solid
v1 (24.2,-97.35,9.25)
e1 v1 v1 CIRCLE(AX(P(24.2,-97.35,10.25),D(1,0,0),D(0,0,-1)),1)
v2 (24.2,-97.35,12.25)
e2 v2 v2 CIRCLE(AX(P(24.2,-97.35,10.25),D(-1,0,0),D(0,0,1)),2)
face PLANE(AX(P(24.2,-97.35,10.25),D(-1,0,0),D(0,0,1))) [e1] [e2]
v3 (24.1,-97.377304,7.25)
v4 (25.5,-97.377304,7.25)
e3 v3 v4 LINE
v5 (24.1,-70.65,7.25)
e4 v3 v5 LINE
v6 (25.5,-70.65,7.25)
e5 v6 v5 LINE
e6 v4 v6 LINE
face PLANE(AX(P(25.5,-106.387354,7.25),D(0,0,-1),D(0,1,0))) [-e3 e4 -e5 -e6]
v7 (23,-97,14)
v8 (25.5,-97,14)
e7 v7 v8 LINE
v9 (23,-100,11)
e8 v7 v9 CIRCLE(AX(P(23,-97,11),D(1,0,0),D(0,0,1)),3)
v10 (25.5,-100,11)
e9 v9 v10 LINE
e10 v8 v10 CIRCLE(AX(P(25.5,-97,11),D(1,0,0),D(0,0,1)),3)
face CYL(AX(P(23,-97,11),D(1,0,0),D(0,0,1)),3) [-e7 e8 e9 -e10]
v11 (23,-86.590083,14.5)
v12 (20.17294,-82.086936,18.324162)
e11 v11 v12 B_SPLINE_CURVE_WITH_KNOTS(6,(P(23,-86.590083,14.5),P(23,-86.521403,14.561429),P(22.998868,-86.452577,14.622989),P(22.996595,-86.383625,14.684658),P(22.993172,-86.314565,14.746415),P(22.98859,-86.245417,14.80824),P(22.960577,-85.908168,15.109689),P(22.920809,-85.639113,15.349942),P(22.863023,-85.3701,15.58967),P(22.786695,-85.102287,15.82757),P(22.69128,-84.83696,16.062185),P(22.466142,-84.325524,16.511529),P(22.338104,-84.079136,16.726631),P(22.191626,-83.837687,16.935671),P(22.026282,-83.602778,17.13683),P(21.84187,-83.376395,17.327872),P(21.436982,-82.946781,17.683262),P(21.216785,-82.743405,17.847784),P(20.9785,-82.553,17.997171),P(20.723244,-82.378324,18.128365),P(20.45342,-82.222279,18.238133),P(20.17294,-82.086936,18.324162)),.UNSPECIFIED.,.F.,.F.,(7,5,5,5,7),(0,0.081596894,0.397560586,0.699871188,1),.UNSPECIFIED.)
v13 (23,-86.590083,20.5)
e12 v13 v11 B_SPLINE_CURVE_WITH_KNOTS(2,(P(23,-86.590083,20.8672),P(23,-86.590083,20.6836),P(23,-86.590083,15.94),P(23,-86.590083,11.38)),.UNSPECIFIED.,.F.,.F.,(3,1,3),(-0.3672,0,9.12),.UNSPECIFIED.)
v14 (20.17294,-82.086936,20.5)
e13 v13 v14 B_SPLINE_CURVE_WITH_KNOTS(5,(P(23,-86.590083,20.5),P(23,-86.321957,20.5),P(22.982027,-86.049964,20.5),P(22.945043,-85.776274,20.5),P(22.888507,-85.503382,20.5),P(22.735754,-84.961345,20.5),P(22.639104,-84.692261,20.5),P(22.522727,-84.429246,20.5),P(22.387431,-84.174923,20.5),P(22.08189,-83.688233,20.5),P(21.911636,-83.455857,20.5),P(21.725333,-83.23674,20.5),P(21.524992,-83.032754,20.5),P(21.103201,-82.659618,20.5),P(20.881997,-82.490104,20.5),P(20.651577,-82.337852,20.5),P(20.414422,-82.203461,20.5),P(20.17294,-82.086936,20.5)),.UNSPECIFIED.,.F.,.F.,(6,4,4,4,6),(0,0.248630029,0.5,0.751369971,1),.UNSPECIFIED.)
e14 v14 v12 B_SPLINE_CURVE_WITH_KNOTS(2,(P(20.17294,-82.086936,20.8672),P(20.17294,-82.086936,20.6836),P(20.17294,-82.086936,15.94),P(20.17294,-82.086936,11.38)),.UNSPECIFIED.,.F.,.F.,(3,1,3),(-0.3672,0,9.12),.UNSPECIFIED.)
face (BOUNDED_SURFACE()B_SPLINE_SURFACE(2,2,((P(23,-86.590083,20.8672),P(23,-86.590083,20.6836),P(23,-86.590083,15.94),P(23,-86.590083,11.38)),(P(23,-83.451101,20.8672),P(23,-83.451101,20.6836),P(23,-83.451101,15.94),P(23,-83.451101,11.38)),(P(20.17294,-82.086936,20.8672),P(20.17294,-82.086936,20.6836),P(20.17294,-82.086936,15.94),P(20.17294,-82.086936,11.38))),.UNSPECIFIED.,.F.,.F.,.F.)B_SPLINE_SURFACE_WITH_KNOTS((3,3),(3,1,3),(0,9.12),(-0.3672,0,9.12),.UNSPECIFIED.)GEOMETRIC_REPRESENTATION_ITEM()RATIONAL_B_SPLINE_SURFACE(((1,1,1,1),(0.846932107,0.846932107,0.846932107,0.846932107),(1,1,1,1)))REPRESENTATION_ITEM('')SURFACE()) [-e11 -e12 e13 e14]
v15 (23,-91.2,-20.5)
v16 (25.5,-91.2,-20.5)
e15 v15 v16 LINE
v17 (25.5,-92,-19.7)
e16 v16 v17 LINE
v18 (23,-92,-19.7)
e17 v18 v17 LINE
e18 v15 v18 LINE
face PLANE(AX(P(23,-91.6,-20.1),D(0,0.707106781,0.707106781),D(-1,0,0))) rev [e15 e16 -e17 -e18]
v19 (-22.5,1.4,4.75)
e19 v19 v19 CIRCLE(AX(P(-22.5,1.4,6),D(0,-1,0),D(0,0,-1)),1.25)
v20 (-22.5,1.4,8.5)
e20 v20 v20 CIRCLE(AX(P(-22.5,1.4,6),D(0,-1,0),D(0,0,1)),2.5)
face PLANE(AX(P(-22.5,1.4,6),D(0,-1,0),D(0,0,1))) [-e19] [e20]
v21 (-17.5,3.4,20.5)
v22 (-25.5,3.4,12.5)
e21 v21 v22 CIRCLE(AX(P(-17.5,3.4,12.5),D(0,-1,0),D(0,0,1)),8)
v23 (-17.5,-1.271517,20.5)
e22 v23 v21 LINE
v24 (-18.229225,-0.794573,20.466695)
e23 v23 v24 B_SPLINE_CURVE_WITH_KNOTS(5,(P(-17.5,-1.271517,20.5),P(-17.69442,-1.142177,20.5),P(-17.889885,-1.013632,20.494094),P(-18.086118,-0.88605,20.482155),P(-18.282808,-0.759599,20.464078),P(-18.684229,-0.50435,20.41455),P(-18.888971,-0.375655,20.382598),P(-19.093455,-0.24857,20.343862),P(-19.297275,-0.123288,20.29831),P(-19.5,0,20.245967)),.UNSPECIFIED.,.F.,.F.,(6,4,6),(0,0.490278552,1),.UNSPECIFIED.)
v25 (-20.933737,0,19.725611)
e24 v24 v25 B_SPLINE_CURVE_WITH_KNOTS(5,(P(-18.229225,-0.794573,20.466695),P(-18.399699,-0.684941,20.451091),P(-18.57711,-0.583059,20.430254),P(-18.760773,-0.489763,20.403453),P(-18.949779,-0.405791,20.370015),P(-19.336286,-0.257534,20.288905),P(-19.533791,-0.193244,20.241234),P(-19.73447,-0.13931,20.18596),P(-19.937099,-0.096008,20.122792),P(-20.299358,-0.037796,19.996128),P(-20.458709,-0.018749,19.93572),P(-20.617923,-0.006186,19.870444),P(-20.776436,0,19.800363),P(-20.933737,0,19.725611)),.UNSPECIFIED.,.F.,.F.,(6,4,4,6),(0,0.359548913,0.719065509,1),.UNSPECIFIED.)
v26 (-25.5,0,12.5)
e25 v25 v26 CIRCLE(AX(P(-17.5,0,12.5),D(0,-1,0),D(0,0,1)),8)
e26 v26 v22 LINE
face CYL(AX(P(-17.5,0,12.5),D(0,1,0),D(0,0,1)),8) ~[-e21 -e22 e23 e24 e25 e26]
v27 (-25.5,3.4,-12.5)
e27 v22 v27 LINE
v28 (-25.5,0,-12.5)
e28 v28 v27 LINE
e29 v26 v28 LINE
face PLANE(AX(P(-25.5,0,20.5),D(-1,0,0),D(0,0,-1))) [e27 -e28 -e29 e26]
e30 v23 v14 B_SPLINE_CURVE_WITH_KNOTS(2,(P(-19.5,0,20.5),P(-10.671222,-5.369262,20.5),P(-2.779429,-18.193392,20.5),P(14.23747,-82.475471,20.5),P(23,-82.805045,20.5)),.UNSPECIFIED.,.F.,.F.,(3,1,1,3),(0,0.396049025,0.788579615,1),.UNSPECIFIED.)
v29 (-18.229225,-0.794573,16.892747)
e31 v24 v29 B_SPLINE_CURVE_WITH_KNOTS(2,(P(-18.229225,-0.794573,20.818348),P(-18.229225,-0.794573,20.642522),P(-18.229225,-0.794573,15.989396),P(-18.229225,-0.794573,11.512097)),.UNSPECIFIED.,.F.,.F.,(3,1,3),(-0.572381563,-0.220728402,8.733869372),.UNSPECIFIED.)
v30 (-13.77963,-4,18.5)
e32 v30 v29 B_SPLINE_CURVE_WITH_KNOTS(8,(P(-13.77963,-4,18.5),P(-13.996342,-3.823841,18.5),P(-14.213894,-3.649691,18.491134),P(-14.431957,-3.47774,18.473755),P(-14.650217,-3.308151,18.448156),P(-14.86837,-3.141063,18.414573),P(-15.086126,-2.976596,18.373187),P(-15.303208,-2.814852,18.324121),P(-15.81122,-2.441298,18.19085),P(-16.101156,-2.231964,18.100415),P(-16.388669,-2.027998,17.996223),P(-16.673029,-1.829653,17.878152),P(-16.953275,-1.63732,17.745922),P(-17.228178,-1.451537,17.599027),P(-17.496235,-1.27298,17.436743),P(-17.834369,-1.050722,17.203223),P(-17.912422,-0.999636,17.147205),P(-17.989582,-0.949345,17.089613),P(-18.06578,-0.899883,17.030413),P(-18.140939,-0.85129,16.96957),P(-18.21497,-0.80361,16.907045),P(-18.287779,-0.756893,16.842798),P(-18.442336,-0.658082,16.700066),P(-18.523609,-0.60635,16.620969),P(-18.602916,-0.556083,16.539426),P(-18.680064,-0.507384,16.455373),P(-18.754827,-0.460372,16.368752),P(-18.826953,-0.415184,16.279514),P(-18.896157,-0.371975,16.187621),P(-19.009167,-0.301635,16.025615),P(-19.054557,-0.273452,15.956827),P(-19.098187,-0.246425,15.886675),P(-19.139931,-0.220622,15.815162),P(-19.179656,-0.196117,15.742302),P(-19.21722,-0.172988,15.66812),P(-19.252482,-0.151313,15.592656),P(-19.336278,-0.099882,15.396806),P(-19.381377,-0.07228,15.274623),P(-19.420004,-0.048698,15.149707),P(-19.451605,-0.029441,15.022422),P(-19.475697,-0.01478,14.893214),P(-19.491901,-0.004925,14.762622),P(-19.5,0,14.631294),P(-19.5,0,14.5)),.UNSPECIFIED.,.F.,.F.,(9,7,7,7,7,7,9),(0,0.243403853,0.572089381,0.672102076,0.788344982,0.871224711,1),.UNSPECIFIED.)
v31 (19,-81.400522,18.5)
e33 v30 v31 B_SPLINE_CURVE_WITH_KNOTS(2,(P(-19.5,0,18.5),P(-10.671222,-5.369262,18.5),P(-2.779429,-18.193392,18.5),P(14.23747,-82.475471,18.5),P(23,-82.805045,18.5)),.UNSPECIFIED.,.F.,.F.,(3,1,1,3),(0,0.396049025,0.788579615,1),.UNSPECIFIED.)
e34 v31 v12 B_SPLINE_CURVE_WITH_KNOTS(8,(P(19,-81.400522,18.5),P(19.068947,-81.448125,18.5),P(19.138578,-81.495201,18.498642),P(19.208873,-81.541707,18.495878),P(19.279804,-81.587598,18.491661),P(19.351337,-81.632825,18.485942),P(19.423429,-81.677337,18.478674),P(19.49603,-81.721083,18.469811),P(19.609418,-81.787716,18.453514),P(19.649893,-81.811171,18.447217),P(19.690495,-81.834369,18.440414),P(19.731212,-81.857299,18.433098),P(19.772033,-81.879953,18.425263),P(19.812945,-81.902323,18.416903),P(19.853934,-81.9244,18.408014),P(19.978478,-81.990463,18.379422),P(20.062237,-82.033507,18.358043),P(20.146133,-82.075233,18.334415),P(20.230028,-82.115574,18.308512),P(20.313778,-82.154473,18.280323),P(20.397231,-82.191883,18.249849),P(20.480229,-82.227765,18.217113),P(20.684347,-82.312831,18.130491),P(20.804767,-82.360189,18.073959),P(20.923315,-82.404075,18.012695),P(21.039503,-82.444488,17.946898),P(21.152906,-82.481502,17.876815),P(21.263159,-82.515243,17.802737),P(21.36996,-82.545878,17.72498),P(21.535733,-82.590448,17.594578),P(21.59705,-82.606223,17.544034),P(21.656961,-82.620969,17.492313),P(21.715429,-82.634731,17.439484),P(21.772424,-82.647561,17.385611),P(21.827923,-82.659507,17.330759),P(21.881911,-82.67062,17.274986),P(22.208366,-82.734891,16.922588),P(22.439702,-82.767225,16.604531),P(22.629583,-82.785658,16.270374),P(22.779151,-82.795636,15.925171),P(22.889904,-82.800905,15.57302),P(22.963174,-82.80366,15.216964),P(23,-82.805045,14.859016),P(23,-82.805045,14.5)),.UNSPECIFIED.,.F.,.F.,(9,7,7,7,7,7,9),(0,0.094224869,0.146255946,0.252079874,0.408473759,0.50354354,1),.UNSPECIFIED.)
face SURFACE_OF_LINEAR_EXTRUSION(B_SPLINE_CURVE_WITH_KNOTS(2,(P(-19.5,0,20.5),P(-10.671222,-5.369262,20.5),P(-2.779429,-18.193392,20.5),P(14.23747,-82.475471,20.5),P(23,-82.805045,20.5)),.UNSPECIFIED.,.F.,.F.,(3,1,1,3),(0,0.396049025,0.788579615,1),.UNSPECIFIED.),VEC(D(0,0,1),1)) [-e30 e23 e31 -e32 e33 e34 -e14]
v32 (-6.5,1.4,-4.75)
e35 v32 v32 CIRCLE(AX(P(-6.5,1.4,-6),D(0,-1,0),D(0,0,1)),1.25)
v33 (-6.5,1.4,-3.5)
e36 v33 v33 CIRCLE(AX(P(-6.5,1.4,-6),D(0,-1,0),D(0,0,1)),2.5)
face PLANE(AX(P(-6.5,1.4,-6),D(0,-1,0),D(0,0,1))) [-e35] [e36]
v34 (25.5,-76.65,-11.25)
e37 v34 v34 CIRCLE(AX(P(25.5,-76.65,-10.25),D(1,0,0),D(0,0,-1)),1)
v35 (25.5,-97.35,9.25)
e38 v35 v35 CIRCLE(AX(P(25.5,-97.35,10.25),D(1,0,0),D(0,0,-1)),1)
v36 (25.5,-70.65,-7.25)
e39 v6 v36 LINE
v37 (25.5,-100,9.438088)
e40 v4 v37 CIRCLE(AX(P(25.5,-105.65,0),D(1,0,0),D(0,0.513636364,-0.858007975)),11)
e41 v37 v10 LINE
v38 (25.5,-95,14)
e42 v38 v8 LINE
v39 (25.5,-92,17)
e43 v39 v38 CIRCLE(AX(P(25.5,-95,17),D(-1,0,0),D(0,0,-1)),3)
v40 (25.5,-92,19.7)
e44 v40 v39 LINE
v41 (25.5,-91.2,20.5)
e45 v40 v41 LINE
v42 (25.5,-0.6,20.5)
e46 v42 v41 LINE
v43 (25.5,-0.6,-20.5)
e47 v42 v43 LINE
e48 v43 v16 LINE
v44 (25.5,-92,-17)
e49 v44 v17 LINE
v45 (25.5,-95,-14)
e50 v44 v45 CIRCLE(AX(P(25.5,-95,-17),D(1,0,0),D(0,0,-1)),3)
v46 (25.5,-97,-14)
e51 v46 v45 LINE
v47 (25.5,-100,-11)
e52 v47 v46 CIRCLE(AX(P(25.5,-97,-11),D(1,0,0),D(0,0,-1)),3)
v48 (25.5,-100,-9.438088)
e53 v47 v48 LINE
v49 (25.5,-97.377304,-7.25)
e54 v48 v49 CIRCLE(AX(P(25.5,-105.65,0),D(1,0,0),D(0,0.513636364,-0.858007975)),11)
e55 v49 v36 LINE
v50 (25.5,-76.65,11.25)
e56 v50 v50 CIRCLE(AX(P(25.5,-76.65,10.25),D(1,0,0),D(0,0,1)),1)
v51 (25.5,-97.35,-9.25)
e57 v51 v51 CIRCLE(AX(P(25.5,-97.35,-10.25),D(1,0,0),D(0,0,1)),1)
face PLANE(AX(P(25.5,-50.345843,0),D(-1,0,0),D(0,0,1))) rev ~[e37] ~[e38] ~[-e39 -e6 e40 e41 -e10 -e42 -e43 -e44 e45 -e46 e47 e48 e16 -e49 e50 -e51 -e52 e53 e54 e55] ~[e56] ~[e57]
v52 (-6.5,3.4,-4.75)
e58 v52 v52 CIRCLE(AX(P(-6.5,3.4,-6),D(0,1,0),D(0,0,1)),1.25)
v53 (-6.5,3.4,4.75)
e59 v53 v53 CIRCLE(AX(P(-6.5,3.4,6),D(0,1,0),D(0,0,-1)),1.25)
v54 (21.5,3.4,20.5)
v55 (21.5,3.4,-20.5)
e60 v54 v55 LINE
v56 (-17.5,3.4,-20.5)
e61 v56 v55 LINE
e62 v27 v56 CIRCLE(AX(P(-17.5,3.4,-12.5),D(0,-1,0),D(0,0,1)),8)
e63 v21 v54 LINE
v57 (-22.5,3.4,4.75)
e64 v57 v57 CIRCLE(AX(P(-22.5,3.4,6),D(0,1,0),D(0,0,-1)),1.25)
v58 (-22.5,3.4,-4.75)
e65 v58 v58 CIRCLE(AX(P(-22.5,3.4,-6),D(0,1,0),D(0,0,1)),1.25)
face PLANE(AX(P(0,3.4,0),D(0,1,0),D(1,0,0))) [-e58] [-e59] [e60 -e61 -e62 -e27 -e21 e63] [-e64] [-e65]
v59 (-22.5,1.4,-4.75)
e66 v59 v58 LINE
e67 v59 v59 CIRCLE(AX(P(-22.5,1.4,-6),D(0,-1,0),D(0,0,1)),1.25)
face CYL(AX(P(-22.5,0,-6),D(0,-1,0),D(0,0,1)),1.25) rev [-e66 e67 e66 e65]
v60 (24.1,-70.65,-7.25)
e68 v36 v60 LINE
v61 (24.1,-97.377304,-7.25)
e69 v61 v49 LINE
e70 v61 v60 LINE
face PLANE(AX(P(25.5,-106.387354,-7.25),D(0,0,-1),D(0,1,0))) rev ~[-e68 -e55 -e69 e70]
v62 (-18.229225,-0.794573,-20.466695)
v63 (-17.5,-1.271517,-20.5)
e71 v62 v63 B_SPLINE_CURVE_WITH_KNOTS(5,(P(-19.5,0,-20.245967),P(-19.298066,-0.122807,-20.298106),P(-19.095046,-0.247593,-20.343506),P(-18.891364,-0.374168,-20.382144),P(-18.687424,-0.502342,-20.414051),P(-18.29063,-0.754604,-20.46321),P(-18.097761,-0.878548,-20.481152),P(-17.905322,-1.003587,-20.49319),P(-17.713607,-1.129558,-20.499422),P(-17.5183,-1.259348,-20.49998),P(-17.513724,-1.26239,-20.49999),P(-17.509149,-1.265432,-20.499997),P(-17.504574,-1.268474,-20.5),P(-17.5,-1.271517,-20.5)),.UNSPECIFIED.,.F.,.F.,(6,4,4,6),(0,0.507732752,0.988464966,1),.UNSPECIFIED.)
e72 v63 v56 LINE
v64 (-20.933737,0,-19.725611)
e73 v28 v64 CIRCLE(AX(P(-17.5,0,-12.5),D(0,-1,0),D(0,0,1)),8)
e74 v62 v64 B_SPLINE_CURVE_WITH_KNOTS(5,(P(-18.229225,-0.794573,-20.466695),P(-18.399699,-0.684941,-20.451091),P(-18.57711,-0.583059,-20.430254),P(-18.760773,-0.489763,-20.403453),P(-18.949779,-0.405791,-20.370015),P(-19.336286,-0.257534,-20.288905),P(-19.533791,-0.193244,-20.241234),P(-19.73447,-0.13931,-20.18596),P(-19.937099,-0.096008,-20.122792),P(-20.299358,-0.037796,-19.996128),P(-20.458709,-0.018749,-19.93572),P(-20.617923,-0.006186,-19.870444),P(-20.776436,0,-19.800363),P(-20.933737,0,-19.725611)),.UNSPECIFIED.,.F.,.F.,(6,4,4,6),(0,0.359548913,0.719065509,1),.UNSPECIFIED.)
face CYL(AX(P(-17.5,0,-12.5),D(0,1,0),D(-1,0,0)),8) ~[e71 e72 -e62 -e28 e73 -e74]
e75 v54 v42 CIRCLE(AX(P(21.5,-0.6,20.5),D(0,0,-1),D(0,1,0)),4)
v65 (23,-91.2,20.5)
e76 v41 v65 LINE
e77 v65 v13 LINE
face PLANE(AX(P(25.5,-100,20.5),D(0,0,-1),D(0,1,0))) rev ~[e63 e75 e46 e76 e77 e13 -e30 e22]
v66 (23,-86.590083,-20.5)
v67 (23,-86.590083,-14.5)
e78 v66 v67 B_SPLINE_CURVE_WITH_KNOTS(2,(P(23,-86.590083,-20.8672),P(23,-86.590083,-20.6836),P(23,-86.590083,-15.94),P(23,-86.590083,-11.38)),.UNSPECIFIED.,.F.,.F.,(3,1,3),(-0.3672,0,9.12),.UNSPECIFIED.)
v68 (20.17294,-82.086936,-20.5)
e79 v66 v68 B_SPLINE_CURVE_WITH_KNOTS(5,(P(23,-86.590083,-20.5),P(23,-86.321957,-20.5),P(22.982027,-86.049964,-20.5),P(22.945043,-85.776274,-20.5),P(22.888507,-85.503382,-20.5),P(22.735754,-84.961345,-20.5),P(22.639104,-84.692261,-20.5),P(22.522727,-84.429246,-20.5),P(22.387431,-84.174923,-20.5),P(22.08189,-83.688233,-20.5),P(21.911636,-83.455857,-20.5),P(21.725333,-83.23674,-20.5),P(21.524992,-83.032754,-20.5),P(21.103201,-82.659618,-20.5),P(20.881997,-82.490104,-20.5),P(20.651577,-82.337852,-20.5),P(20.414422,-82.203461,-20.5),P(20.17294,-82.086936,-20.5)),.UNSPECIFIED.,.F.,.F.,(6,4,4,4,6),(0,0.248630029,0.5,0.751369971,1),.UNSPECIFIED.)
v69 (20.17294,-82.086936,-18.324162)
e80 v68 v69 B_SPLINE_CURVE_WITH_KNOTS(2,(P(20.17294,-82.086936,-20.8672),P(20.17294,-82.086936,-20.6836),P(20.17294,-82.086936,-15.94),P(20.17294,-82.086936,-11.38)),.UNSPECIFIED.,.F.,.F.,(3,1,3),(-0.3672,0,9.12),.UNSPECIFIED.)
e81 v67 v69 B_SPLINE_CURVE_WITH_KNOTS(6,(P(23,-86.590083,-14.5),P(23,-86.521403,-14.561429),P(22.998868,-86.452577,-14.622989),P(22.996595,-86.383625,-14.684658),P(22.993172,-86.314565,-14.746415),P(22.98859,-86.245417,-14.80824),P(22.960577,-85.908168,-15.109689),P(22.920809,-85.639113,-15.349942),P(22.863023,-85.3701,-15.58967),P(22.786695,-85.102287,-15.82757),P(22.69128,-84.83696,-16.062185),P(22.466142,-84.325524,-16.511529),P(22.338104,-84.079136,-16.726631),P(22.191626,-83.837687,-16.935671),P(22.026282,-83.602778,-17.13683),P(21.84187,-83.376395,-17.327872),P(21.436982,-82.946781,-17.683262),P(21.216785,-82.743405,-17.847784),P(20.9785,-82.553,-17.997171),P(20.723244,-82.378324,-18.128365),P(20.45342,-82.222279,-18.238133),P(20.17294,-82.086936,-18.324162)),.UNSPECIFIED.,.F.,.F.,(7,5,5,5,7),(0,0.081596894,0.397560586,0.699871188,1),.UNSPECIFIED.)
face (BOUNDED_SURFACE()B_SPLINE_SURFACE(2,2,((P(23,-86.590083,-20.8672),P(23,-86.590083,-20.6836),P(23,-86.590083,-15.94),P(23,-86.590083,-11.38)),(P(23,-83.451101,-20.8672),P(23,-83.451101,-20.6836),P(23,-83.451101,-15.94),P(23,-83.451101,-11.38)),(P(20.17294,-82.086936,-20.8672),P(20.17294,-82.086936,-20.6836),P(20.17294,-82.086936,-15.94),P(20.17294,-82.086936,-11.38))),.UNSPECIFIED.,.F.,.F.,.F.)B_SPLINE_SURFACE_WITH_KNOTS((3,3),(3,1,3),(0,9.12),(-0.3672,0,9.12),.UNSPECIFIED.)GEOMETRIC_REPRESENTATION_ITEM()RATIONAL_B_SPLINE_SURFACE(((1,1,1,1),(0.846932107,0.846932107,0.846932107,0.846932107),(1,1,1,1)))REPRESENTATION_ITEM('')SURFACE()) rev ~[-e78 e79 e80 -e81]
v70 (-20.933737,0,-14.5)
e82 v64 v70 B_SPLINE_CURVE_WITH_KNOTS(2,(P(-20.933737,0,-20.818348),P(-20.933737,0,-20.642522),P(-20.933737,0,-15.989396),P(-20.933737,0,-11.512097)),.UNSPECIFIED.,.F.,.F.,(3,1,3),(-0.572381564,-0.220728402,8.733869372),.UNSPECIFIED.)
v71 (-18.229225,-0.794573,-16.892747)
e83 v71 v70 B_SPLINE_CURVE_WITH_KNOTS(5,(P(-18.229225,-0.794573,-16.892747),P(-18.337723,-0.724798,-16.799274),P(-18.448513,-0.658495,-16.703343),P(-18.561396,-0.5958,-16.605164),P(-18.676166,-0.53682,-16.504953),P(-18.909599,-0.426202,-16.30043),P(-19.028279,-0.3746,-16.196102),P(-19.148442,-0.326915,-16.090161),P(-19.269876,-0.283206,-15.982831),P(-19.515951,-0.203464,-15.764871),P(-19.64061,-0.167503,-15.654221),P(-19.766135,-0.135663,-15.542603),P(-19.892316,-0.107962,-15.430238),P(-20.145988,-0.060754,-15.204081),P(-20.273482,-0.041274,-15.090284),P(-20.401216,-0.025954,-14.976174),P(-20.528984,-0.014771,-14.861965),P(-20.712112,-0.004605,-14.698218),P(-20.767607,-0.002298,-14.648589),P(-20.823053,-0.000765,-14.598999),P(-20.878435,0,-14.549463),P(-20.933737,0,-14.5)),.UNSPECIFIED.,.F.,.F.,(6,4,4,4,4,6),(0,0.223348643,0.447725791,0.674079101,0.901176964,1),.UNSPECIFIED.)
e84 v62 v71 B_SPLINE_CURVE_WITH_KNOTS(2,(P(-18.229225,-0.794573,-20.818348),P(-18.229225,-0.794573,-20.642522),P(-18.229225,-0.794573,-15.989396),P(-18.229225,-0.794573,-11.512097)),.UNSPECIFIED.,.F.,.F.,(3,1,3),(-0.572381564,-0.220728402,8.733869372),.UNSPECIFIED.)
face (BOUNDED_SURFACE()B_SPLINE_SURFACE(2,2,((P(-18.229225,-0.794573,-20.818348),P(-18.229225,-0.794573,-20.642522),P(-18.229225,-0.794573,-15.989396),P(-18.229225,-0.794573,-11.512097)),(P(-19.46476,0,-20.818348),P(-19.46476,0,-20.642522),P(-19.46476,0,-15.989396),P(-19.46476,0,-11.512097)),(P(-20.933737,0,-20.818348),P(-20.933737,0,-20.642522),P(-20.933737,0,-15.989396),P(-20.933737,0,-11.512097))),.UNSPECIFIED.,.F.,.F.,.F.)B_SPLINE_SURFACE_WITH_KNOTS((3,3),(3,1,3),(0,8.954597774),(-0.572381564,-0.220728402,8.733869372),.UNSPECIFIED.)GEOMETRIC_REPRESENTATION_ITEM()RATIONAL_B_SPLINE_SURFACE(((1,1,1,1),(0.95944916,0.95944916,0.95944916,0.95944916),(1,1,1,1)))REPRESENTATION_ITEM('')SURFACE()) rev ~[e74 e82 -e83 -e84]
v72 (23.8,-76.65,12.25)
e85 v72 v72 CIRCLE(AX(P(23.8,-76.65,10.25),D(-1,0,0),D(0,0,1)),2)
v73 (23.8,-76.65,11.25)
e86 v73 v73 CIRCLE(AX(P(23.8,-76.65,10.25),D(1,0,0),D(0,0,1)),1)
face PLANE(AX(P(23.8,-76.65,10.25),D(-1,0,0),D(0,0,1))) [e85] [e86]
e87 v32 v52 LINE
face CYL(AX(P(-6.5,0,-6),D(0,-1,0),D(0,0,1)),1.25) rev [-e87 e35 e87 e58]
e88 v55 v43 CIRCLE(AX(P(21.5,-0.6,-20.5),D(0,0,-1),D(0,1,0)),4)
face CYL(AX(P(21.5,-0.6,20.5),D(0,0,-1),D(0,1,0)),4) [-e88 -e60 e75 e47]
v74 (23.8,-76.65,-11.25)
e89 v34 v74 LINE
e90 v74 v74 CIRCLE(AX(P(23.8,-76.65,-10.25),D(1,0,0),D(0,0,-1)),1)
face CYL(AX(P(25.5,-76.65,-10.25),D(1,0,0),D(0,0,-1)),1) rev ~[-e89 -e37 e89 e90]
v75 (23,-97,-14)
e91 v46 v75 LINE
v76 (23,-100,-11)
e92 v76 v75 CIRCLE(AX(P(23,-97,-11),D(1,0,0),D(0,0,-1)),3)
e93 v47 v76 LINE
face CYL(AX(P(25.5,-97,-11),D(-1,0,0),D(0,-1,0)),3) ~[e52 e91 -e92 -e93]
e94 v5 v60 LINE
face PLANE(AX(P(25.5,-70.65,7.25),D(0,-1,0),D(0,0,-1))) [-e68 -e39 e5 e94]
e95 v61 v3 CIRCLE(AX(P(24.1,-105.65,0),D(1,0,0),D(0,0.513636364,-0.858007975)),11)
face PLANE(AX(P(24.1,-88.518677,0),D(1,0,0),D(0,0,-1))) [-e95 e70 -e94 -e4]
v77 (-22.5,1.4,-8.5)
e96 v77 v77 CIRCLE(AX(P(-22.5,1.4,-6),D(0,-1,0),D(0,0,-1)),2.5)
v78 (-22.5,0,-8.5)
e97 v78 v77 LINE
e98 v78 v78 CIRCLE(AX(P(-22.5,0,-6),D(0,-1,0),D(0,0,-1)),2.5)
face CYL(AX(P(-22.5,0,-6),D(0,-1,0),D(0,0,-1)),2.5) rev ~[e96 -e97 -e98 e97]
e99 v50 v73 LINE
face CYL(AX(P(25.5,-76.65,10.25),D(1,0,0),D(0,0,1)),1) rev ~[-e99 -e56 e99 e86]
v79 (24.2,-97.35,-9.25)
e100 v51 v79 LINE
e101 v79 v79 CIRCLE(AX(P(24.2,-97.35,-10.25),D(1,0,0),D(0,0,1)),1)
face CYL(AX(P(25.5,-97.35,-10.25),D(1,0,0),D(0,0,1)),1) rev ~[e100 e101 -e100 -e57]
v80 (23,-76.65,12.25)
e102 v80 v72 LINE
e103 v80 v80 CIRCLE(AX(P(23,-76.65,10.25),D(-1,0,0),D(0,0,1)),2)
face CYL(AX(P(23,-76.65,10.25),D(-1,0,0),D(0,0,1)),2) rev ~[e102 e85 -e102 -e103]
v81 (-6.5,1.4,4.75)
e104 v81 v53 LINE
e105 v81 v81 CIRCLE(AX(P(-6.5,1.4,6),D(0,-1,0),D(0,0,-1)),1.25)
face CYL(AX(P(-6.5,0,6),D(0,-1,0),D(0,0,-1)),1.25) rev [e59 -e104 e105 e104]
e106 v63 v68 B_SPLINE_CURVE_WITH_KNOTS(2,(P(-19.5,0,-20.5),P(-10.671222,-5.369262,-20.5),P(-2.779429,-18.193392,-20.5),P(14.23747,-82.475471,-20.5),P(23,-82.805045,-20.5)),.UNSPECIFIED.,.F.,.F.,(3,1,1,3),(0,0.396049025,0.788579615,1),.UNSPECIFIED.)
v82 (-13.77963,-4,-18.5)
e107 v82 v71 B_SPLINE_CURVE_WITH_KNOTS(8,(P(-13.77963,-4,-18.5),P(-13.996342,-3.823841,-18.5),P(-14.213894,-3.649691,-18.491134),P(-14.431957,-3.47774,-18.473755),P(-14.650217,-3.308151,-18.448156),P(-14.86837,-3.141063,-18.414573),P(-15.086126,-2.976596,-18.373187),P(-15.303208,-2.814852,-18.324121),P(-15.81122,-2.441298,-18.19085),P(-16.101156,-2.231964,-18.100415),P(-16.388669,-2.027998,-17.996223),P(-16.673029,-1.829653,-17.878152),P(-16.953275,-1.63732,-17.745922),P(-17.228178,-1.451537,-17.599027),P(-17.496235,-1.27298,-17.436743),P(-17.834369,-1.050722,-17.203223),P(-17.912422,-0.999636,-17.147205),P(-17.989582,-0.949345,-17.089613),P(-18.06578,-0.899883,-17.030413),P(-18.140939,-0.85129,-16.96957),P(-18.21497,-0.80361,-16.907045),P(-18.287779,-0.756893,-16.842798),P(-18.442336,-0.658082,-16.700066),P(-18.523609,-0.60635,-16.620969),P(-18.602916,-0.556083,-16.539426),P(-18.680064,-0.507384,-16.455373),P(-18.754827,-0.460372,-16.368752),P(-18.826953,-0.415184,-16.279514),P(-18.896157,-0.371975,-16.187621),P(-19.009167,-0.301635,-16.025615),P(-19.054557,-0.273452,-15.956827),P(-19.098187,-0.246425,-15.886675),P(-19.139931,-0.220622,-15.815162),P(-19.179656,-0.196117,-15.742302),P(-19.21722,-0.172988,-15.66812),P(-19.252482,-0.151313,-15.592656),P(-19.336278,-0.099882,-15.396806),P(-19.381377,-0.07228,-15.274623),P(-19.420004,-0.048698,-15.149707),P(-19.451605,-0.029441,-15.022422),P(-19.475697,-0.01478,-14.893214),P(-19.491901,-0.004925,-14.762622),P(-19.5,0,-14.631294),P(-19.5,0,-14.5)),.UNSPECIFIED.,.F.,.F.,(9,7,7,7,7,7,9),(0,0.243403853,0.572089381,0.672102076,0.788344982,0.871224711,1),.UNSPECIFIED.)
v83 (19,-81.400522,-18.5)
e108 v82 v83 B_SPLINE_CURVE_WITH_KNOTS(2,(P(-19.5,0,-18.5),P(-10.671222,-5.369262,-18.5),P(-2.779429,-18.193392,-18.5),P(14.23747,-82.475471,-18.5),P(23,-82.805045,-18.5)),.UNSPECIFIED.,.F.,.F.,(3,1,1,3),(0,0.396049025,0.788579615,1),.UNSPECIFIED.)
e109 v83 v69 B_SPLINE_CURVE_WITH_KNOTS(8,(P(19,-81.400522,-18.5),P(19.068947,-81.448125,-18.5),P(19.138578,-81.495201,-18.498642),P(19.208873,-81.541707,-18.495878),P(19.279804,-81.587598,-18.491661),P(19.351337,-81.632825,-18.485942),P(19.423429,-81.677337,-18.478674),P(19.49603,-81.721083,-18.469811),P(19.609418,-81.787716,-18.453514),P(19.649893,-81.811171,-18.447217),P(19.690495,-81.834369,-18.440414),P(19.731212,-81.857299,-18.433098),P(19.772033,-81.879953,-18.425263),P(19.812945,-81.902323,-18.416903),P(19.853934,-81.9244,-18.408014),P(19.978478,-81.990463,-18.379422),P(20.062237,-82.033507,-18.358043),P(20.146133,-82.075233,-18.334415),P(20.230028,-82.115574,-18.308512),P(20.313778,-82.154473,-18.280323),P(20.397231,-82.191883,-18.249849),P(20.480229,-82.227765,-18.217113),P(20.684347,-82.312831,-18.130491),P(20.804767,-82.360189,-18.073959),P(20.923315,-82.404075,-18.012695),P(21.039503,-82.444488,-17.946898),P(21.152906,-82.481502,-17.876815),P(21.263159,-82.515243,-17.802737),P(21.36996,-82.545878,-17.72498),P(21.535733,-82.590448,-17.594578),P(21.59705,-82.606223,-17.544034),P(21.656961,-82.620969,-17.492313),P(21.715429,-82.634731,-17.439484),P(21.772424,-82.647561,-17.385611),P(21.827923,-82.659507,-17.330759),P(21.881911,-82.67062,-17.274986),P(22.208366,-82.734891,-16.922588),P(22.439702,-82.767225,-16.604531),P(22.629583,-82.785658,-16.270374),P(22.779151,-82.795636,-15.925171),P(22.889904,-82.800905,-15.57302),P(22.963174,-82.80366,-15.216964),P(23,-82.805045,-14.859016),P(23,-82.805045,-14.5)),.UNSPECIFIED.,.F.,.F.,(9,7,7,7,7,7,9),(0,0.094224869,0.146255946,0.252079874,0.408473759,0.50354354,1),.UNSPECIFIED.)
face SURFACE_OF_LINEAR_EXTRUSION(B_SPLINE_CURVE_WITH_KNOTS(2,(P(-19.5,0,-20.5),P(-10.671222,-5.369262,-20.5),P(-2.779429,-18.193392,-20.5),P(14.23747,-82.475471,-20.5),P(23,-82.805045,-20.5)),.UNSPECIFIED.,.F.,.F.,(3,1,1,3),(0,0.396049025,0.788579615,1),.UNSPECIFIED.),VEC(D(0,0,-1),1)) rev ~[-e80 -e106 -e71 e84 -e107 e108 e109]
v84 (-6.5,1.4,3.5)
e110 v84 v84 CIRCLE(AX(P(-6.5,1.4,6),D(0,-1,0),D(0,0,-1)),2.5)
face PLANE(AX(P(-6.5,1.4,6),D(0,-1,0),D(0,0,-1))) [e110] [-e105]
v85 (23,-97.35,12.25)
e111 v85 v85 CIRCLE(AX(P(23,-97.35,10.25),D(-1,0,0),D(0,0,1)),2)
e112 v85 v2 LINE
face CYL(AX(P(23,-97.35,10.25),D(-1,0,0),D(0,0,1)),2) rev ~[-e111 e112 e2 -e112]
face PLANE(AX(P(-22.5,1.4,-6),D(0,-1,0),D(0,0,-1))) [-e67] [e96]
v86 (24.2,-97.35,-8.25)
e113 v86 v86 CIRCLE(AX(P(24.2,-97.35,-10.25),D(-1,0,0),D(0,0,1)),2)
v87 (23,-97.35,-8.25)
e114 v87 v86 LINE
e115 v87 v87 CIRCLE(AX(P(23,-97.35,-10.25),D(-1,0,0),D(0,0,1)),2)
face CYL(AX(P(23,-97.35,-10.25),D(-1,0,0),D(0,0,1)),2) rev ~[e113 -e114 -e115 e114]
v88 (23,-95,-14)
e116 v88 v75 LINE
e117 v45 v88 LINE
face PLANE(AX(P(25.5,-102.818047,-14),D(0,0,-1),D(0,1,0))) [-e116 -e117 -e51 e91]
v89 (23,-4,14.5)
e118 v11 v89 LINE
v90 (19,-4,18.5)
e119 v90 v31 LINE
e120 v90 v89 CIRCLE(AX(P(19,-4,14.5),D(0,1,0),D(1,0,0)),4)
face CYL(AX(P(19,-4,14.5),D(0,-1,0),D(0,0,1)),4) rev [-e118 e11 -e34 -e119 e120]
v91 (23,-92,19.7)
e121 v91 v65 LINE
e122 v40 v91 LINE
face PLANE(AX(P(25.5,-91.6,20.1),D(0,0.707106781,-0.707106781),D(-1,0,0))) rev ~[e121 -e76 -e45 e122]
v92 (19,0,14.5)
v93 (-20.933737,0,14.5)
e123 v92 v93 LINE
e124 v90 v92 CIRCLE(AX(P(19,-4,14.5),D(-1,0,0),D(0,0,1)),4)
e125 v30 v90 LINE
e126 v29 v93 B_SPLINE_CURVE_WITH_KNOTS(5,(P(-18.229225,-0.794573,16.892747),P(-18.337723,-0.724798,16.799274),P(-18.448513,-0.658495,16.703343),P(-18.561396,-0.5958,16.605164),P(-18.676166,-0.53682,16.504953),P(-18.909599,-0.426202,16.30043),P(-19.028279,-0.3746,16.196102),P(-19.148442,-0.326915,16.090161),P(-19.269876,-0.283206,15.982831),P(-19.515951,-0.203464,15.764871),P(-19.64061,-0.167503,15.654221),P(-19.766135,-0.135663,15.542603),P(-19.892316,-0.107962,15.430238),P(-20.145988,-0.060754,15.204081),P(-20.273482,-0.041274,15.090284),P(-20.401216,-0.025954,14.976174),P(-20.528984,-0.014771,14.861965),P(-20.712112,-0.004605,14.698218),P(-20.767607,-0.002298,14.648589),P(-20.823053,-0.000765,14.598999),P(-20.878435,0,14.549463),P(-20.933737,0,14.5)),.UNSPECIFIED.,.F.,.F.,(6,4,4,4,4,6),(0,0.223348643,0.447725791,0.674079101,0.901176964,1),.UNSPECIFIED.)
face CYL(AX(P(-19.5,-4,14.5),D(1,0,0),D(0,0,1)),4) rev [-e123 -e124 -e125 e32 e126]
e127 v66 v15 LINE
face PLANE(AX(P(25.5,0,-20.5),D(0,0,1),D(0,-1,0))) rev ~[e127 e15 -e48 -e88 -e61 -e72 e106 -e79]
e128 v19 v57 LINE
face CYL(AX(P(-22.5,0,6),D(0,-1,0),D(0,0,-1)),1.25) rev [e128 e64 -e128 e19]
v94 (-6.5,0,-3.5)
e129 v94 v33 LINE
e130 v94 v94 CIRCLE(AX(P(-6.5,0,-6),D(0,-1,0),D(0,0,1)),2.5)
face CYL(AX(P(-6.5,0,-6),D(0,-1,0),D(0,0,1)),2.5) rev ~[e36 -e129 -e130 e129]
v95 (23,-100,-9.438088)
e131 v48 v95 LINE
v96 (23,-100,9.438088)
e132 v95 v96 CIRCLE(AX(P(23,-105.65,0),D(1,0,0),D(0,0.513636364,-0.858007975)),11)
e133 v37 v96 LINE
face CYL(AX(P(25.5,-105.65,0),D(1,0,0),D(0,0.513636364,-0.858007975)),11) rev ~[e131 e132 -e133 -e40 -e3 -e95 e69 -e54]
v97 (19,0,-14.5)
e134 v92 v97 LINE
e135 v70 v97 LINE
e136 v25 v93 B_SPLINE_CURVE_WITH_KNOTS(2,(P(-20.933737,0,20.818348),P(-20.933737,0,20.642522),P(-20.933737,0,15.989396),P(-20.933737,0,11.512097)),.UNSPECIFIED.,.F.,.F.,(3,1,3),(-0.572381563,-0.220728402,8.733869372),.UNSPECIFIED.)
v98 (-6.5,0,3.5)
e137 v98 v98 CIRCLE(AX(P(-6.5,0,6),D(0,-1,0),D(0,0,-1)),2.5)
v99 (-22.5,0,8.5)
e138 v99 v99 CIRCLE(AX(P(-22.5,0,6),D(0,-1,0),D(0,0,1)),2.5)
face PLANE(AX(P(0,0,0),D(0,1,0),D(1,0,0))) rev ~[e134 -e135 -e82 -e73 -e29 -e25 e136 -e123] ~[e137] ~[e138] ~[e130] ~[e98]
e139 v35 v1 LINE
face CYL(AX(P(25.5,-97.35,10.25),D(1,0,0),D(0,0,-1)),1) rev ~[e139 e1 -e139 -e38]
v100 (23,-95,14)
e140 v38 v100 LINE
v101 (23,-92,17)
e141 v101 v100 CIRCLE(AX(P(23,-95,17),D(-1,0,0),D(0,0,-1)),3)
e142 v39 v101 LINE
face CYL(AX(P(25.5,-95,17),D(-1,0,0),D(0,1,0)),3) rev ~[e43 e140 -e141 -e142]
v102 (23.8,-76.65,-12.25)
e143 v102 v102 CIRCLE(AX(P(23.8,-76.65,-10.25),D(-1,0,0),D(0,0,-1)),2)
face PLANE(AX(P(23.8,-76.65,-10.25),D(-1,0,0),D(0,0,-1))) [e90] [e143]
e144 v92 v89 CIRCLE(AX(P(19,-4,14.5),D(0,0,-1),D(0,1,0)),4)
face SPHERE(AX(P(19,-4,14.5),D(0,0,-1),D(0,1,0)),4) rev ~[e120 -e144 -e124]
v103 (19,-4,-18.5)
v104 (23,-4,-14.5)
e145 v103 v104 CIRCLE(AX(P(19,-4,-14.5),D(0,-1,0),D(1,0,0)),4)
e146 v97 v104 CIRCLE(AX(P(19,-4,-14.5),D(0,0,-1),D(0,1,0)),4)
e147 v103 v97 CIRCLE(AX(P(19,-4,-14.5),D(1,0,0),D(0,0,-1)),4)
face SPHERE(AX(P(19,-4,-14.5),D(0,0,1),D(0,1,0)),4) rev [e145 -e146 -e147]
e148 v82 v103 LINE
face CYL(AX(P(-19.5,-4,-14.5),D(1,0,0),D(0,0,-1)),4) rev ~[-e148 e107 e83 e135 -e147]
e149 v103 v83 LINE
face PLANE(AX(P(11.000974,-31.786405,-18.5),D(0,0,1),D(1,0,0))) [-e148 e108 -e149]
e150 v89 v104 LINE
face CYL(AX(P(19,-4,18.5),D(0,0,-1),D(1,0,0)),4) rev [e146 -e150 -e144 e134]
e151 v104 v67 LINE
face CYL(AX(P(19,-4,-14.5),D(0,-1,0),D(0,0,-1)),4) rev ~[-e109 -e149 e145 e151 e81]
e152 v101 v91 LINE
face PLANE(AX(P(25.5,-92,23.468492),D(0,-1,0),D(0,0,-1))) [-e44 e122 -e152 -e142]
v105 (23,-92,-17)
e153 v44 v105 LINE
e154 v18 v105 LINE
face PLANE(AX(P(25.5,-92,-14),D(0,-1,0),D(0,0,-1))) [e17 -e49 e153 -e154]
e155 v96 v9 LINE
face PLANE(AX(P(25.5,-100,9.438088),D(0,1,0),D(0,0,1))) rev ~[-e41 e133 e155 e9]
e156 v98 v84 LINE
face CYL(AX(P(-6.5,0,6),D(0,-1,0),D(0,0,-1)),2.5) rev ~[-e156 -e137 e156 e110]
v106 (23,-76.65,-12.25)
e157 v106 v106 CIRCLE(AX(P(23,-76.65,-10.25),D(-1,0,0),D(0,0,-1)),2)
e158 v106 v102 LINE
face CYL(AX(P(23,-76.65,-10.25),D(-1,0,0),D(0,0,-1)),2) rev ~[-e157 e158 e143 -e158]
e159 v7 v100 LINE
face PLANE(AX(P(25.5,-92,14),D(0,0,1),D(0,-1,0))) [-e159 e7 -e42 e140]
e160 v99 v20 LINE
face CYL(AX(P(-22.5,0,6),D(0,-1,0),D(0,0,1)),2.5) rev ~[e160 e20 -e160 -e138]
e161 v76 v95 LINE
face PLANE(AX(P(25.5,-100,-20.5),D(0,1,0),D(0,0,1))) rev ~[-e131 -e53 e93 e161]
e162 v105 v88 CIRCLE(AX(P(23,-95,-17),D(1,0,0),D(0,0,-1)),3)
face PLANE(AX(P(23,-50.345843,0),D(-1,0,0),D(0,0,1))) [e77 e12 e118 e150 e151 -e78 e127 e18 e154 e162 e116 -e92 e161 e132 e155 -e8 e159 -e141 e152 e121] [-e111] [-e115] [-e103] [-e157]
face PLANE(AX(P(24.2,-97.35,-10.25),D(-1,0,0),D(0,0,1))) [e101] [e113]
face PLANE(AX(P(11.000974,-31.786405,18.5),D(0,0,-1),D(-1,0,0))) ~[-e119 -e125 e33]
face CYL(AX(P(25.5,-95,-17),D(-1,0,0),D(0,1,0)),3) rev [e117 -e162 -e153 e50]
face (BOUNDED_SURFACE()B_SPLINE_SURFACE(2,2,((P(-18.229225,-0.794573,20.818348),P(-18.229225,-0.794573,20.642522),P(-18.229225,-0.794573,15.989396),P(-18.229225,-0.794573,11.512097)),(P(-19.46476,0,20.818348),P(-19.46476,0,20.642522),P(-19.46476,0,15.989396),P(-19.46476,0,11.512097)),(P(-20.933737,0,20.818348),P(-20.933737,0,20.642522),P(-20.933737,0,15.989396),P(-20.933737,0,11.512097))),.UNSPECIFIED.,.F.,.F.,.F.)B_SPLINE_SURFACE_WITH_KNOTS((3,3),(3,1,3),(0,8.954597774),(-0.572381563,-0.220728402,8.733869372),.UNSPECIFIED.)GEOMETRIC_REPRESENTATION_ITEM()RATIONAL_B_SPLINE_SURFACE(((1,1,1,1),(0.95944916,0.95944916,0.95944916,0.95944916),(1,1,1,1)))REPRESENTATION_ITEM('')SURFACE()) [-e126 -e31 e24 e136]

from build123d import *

# Parameters (mm, degrees)
SKETCH_1_W          = 51
SKETCH_1_H          = 41
SKETCH_1_R          = 1.25
EXTRUDE_1_DEPTH     = 3.4
SKETCH_2_R          = 1
EXTRUDE_2_DEPTH     = 2.5
SKETCH_3_W          = 14.5
SKETCH_3_H          = 35.737354226
CUT_EXTRUDE_1_DEPTH = 1.4
EXTRUDE_4_DEPTH     = 2
FILLET_1_R          = 8
FILLET_2_R          = 4
SKETCH_6_R          = 2
CUT_EXTRUDE_2_DEPTH = 1.2
CUT_EXTRUDE_3_DEPTH = 4
FILLET_3_R          = 3
SKETCH_9_R          = 2
CUT_EXTRUDE_4_DEPTH = 0.8
SKETCH_10_R         = 2.5
CUT_EXTRUDE_5_DEPTH = 1.4
CHAMFER_1_SIZE      = 0.8
FILLET_4_R          = 4
FILLET_5_R          = 5


with BuildPart() as part:
    # 草图1 → 凸台-拉伸1 (new body)
    with BuildSketch(Plane(origin=(0, 0, 0), x_dir=(1, 0, 0), z_dir=(0, 1, 0))):
        Rectangle(SKETCH_1_W, SKETCH_1_H)
        with Locations(Location((-22.5, 6, 0), (0, 0, 270))):
            Circle(SKETCH_1_R, mode=Mode.SUBTRACT)
        with Locations(Location((-22.5, -6, 0), (0, 0, 90))):
            Circle(SKETCH_1_R, mode=Mode.SUBTRACT)
        with Locations(Location((-6.5, 6, 0), (0, 0, 270))):
            Circle(SKETCH_1_R, mode=Mode.SUBTRACT)
        with Locations(Location((-6.5, -6, 0), (0, 0, 90))):
            Circle(SKETCH_1_R, mode=Mode.SUBTRACT)
    extrude(amount=EXTRUDE_1_DEPTH)

    # 草图2 → 凸台-拉伸2 (add)
    with BuildSketch(Plane(origin=(25.5, 0, 0), x_dir=(0, 0, -1), z_dir=(1, 0, 0))):
        with BuildLine():
            Line((-20.5, 0), (20.5, 0))
            Line((20.5, 0), (20.5, -100))
            Line((20.5, -100), (9.43808773, -100))
            ThreePointArc((9.43808773, -100), (0, -94.65), (-9.43808773, -100))
            Line((-9.43808773, -100), (-20.5, -100))
            Line((-20.5, -100), (-20.5, 0))
        make_face()
        with Locations((-10.25, -97.35)):
            Circle(SKETCH_2_R, mode=Mode.SUBTRACT)
        with Locations(Location((10.25, -97.35, 0), (0, 0, 180))):
            Circle(SKETCH_2_R, mode=Mode.SUBTRACT)
        with Locations((10.25, -76.65)):
            Circle(SKETCH_2_R, mode=Mode.SUBTRACT)
        with Locations(Location((-10.25, -76.65, 0), (0, 0, 180))):
            Circle(SKETCH_2_R, mode=Mode.SUBTRACT)
    extrude(amount=-EXTRUDE_2_DEPTH)

    # 草图3 → 切除-拉伸1 (cut)
    with BuildSketch(Plane(origin=(25.5, 0, 0), x_dir=(0, 0, -1), z_dir=(1, 0, 0))):
        with Locations((0, -88.518677113)):
            Rectangle(SKETCH_3_W, SKETCH_3_H)
    extrude(amount=-CUT_EXTRUDE_1_DEPTH, mode=Mode.SUBTRACT)

    # 草图5 → 凸台-拉伸4 (add)
    with BuildSketch(Plane(origin=(0, 0, -20.5), x_dir=(-1, 0, 0), z_dir=(0, 0, -1))):
        with BuildLine():
            Line((-25.5, 3.4), (19.5, 3.4))
            Line((19.5, 3.4), (19.5, 0))
            add(Edge.make_bspline(
                [(19.5, 0), (10.67122189, -5.3692624), (2.779429236, -18.193392293), (-14.23746955, -82.475470635), (-23, -82.805044976)],
                knots=[0, 0, 0, 0.396049025, 0.788579615, 1, 1, 1], degree=2))
            Line((-23, -82.805044976), (-25.5, -82.805044976))
            Line((-25.5, -82.805044976), (-25.5, 3.4))
        make_face()
    extrude_4 = extrude(amount=-EXTRUDE_4_DEPTH)

    # 镜向3: 凸台-拉伸4 across plane
    add(extrude_4.mirror(Plane.XY))

    # 圆角1
    fillet_1_edges = [part.edges().sort_by_distance(p)[0] for p in [
        (-25.5, 1.7, -20.5),
        (-25.5, 1.7, 20.5),
    ]]
    fillet(fillet_1_edges, radius=FILLET_1_R)

    # 圆角2
    fillet_2_edges = [part.edges().sort_by_distance(p)[0] for p in [
        (25.5, 3.4, 0),
        (23, 0, 0),
    ]]
    fillet(fillet_2_edges, radius=FILLET_2_R)

    # 草图6 → 切除-拉伸2 (cut)
    with BuildSketch(Plane.ZY.offset(-23)):
        with Locations((10.25, -97.35)):
            Circle(SKETCH_6_R)
        with Locations((-10.25, -97.35)):
            Circle(SKETCH_6_R)
    extrude(amount=-CUT_EXTRUDE_2_DEPTH, mode=Mode.SUBTRACT)

    # 草图8 → 切除-拉伸3 (cut)
    with BuildSketch(Plane(origin=(25.5, 0, 0), x_dir=(0, 0, -1), z_dir=(1, 0, 0))):
        Polygon((14, -102.818047241), (14, -92), (23.468492482, -92), (23.468492482, -110.008191191), (-23.468492482, -110.008191191), (-23.468492482, -92), (-14, -92), (-14, -102.818047241), align=None)
    extrude(amount=-CUT_EXTRUDE_3_DEPTH, mode=Mode.SUBTRACT)

    # 圆角3
    fillet_3_edges = [part.edges().sort_by_distance(p)[0] for p in [
        (24.25, -100, 14),
        (24.25, -100, -14),
        (24.25, -92, -14),
        (24.25, -92, 14),
    ]]
    fillet(fillet_3_edges, radius=FILLET_3_R)

    # 草图9 → 切除-拉伸4 (cut)
    with BuildSketch(Plane.ZY.offset(-23)):
        with Locations((10.25, -76.65)):
            Circle(SKETCH_9_R)
        with Locations(Location((-10.25, -76.65, 0), (0, 0, 180))):
            Circle(SKETCH_9_R)
    extrude(amount=-CUT_EXTRUDE_4_DEPTH, mode=Mode.SUBTRACT)

    # 草图10 → 切除-拉伸5 (cut)
    with BuildSketch(Plane(origin=(0, 0, 0), x_dir=(-1, 0, 0), z_dir=(0, -1, 0))):
        with Locations(Location((6.5, -6, 0), (0, 0, 90))):
            Circle(SKETCH_10_R)
        with Locations(Location((22.5, -6, 0), (0, 0, 270))):
            Circle(SKETCH_10_R)
        with Locations(Location((6.5, 6, 0), (0, 0, 270))):
            Circle(SKETCH_10_R)
        with Locations(Location((22.5, 6, 0), (0, 0, 90))):
            Circle(SKETCH_10_R)
    extrude(amount=-CUT_EXTRUDE_5_DEPTH, mode=Mode.SUBTRACT)

    # 倒角1
    chamfer_1_edges = [part.edges().sort_by_distance(p)[0] for p in [
        (24.25, -92, 20.5),
        (24.25, -92, -20.5),
    ]]
    chamfer(chamfer_1_edges, length=CHAMFER_1_SIZE)

    # 圆角4
    fillet_4_edges = [part.edges().sort_by_distance(p)[0] for p in [
        (-0.25, 0, -18.5),
        (21.828427125, -1.171572875, -18.5),
        (-0.25, 0, 18.5),
        (21.828427125, -1.171572875, 18.5),
        (23, -43.402522488, -18.5),
        (23, -43.402522488, 18.5),
    ]]
    fillet(fillet_4_edges, radius=FILLET_4_R)

    # 圆角5
    fillet_5_edges = [part.edges().sort_by_distance(p)[0] for p in [
        (23, -82.805044976, 16.5),
        (23, -82.805044976, -16.5),
        (-19.5, 0, 16.5),
        (-19.5, 0, -16.5),
    ]]
    fillet(fillet_5_edges, radius=FILLET_5_R)


solid = part.part
